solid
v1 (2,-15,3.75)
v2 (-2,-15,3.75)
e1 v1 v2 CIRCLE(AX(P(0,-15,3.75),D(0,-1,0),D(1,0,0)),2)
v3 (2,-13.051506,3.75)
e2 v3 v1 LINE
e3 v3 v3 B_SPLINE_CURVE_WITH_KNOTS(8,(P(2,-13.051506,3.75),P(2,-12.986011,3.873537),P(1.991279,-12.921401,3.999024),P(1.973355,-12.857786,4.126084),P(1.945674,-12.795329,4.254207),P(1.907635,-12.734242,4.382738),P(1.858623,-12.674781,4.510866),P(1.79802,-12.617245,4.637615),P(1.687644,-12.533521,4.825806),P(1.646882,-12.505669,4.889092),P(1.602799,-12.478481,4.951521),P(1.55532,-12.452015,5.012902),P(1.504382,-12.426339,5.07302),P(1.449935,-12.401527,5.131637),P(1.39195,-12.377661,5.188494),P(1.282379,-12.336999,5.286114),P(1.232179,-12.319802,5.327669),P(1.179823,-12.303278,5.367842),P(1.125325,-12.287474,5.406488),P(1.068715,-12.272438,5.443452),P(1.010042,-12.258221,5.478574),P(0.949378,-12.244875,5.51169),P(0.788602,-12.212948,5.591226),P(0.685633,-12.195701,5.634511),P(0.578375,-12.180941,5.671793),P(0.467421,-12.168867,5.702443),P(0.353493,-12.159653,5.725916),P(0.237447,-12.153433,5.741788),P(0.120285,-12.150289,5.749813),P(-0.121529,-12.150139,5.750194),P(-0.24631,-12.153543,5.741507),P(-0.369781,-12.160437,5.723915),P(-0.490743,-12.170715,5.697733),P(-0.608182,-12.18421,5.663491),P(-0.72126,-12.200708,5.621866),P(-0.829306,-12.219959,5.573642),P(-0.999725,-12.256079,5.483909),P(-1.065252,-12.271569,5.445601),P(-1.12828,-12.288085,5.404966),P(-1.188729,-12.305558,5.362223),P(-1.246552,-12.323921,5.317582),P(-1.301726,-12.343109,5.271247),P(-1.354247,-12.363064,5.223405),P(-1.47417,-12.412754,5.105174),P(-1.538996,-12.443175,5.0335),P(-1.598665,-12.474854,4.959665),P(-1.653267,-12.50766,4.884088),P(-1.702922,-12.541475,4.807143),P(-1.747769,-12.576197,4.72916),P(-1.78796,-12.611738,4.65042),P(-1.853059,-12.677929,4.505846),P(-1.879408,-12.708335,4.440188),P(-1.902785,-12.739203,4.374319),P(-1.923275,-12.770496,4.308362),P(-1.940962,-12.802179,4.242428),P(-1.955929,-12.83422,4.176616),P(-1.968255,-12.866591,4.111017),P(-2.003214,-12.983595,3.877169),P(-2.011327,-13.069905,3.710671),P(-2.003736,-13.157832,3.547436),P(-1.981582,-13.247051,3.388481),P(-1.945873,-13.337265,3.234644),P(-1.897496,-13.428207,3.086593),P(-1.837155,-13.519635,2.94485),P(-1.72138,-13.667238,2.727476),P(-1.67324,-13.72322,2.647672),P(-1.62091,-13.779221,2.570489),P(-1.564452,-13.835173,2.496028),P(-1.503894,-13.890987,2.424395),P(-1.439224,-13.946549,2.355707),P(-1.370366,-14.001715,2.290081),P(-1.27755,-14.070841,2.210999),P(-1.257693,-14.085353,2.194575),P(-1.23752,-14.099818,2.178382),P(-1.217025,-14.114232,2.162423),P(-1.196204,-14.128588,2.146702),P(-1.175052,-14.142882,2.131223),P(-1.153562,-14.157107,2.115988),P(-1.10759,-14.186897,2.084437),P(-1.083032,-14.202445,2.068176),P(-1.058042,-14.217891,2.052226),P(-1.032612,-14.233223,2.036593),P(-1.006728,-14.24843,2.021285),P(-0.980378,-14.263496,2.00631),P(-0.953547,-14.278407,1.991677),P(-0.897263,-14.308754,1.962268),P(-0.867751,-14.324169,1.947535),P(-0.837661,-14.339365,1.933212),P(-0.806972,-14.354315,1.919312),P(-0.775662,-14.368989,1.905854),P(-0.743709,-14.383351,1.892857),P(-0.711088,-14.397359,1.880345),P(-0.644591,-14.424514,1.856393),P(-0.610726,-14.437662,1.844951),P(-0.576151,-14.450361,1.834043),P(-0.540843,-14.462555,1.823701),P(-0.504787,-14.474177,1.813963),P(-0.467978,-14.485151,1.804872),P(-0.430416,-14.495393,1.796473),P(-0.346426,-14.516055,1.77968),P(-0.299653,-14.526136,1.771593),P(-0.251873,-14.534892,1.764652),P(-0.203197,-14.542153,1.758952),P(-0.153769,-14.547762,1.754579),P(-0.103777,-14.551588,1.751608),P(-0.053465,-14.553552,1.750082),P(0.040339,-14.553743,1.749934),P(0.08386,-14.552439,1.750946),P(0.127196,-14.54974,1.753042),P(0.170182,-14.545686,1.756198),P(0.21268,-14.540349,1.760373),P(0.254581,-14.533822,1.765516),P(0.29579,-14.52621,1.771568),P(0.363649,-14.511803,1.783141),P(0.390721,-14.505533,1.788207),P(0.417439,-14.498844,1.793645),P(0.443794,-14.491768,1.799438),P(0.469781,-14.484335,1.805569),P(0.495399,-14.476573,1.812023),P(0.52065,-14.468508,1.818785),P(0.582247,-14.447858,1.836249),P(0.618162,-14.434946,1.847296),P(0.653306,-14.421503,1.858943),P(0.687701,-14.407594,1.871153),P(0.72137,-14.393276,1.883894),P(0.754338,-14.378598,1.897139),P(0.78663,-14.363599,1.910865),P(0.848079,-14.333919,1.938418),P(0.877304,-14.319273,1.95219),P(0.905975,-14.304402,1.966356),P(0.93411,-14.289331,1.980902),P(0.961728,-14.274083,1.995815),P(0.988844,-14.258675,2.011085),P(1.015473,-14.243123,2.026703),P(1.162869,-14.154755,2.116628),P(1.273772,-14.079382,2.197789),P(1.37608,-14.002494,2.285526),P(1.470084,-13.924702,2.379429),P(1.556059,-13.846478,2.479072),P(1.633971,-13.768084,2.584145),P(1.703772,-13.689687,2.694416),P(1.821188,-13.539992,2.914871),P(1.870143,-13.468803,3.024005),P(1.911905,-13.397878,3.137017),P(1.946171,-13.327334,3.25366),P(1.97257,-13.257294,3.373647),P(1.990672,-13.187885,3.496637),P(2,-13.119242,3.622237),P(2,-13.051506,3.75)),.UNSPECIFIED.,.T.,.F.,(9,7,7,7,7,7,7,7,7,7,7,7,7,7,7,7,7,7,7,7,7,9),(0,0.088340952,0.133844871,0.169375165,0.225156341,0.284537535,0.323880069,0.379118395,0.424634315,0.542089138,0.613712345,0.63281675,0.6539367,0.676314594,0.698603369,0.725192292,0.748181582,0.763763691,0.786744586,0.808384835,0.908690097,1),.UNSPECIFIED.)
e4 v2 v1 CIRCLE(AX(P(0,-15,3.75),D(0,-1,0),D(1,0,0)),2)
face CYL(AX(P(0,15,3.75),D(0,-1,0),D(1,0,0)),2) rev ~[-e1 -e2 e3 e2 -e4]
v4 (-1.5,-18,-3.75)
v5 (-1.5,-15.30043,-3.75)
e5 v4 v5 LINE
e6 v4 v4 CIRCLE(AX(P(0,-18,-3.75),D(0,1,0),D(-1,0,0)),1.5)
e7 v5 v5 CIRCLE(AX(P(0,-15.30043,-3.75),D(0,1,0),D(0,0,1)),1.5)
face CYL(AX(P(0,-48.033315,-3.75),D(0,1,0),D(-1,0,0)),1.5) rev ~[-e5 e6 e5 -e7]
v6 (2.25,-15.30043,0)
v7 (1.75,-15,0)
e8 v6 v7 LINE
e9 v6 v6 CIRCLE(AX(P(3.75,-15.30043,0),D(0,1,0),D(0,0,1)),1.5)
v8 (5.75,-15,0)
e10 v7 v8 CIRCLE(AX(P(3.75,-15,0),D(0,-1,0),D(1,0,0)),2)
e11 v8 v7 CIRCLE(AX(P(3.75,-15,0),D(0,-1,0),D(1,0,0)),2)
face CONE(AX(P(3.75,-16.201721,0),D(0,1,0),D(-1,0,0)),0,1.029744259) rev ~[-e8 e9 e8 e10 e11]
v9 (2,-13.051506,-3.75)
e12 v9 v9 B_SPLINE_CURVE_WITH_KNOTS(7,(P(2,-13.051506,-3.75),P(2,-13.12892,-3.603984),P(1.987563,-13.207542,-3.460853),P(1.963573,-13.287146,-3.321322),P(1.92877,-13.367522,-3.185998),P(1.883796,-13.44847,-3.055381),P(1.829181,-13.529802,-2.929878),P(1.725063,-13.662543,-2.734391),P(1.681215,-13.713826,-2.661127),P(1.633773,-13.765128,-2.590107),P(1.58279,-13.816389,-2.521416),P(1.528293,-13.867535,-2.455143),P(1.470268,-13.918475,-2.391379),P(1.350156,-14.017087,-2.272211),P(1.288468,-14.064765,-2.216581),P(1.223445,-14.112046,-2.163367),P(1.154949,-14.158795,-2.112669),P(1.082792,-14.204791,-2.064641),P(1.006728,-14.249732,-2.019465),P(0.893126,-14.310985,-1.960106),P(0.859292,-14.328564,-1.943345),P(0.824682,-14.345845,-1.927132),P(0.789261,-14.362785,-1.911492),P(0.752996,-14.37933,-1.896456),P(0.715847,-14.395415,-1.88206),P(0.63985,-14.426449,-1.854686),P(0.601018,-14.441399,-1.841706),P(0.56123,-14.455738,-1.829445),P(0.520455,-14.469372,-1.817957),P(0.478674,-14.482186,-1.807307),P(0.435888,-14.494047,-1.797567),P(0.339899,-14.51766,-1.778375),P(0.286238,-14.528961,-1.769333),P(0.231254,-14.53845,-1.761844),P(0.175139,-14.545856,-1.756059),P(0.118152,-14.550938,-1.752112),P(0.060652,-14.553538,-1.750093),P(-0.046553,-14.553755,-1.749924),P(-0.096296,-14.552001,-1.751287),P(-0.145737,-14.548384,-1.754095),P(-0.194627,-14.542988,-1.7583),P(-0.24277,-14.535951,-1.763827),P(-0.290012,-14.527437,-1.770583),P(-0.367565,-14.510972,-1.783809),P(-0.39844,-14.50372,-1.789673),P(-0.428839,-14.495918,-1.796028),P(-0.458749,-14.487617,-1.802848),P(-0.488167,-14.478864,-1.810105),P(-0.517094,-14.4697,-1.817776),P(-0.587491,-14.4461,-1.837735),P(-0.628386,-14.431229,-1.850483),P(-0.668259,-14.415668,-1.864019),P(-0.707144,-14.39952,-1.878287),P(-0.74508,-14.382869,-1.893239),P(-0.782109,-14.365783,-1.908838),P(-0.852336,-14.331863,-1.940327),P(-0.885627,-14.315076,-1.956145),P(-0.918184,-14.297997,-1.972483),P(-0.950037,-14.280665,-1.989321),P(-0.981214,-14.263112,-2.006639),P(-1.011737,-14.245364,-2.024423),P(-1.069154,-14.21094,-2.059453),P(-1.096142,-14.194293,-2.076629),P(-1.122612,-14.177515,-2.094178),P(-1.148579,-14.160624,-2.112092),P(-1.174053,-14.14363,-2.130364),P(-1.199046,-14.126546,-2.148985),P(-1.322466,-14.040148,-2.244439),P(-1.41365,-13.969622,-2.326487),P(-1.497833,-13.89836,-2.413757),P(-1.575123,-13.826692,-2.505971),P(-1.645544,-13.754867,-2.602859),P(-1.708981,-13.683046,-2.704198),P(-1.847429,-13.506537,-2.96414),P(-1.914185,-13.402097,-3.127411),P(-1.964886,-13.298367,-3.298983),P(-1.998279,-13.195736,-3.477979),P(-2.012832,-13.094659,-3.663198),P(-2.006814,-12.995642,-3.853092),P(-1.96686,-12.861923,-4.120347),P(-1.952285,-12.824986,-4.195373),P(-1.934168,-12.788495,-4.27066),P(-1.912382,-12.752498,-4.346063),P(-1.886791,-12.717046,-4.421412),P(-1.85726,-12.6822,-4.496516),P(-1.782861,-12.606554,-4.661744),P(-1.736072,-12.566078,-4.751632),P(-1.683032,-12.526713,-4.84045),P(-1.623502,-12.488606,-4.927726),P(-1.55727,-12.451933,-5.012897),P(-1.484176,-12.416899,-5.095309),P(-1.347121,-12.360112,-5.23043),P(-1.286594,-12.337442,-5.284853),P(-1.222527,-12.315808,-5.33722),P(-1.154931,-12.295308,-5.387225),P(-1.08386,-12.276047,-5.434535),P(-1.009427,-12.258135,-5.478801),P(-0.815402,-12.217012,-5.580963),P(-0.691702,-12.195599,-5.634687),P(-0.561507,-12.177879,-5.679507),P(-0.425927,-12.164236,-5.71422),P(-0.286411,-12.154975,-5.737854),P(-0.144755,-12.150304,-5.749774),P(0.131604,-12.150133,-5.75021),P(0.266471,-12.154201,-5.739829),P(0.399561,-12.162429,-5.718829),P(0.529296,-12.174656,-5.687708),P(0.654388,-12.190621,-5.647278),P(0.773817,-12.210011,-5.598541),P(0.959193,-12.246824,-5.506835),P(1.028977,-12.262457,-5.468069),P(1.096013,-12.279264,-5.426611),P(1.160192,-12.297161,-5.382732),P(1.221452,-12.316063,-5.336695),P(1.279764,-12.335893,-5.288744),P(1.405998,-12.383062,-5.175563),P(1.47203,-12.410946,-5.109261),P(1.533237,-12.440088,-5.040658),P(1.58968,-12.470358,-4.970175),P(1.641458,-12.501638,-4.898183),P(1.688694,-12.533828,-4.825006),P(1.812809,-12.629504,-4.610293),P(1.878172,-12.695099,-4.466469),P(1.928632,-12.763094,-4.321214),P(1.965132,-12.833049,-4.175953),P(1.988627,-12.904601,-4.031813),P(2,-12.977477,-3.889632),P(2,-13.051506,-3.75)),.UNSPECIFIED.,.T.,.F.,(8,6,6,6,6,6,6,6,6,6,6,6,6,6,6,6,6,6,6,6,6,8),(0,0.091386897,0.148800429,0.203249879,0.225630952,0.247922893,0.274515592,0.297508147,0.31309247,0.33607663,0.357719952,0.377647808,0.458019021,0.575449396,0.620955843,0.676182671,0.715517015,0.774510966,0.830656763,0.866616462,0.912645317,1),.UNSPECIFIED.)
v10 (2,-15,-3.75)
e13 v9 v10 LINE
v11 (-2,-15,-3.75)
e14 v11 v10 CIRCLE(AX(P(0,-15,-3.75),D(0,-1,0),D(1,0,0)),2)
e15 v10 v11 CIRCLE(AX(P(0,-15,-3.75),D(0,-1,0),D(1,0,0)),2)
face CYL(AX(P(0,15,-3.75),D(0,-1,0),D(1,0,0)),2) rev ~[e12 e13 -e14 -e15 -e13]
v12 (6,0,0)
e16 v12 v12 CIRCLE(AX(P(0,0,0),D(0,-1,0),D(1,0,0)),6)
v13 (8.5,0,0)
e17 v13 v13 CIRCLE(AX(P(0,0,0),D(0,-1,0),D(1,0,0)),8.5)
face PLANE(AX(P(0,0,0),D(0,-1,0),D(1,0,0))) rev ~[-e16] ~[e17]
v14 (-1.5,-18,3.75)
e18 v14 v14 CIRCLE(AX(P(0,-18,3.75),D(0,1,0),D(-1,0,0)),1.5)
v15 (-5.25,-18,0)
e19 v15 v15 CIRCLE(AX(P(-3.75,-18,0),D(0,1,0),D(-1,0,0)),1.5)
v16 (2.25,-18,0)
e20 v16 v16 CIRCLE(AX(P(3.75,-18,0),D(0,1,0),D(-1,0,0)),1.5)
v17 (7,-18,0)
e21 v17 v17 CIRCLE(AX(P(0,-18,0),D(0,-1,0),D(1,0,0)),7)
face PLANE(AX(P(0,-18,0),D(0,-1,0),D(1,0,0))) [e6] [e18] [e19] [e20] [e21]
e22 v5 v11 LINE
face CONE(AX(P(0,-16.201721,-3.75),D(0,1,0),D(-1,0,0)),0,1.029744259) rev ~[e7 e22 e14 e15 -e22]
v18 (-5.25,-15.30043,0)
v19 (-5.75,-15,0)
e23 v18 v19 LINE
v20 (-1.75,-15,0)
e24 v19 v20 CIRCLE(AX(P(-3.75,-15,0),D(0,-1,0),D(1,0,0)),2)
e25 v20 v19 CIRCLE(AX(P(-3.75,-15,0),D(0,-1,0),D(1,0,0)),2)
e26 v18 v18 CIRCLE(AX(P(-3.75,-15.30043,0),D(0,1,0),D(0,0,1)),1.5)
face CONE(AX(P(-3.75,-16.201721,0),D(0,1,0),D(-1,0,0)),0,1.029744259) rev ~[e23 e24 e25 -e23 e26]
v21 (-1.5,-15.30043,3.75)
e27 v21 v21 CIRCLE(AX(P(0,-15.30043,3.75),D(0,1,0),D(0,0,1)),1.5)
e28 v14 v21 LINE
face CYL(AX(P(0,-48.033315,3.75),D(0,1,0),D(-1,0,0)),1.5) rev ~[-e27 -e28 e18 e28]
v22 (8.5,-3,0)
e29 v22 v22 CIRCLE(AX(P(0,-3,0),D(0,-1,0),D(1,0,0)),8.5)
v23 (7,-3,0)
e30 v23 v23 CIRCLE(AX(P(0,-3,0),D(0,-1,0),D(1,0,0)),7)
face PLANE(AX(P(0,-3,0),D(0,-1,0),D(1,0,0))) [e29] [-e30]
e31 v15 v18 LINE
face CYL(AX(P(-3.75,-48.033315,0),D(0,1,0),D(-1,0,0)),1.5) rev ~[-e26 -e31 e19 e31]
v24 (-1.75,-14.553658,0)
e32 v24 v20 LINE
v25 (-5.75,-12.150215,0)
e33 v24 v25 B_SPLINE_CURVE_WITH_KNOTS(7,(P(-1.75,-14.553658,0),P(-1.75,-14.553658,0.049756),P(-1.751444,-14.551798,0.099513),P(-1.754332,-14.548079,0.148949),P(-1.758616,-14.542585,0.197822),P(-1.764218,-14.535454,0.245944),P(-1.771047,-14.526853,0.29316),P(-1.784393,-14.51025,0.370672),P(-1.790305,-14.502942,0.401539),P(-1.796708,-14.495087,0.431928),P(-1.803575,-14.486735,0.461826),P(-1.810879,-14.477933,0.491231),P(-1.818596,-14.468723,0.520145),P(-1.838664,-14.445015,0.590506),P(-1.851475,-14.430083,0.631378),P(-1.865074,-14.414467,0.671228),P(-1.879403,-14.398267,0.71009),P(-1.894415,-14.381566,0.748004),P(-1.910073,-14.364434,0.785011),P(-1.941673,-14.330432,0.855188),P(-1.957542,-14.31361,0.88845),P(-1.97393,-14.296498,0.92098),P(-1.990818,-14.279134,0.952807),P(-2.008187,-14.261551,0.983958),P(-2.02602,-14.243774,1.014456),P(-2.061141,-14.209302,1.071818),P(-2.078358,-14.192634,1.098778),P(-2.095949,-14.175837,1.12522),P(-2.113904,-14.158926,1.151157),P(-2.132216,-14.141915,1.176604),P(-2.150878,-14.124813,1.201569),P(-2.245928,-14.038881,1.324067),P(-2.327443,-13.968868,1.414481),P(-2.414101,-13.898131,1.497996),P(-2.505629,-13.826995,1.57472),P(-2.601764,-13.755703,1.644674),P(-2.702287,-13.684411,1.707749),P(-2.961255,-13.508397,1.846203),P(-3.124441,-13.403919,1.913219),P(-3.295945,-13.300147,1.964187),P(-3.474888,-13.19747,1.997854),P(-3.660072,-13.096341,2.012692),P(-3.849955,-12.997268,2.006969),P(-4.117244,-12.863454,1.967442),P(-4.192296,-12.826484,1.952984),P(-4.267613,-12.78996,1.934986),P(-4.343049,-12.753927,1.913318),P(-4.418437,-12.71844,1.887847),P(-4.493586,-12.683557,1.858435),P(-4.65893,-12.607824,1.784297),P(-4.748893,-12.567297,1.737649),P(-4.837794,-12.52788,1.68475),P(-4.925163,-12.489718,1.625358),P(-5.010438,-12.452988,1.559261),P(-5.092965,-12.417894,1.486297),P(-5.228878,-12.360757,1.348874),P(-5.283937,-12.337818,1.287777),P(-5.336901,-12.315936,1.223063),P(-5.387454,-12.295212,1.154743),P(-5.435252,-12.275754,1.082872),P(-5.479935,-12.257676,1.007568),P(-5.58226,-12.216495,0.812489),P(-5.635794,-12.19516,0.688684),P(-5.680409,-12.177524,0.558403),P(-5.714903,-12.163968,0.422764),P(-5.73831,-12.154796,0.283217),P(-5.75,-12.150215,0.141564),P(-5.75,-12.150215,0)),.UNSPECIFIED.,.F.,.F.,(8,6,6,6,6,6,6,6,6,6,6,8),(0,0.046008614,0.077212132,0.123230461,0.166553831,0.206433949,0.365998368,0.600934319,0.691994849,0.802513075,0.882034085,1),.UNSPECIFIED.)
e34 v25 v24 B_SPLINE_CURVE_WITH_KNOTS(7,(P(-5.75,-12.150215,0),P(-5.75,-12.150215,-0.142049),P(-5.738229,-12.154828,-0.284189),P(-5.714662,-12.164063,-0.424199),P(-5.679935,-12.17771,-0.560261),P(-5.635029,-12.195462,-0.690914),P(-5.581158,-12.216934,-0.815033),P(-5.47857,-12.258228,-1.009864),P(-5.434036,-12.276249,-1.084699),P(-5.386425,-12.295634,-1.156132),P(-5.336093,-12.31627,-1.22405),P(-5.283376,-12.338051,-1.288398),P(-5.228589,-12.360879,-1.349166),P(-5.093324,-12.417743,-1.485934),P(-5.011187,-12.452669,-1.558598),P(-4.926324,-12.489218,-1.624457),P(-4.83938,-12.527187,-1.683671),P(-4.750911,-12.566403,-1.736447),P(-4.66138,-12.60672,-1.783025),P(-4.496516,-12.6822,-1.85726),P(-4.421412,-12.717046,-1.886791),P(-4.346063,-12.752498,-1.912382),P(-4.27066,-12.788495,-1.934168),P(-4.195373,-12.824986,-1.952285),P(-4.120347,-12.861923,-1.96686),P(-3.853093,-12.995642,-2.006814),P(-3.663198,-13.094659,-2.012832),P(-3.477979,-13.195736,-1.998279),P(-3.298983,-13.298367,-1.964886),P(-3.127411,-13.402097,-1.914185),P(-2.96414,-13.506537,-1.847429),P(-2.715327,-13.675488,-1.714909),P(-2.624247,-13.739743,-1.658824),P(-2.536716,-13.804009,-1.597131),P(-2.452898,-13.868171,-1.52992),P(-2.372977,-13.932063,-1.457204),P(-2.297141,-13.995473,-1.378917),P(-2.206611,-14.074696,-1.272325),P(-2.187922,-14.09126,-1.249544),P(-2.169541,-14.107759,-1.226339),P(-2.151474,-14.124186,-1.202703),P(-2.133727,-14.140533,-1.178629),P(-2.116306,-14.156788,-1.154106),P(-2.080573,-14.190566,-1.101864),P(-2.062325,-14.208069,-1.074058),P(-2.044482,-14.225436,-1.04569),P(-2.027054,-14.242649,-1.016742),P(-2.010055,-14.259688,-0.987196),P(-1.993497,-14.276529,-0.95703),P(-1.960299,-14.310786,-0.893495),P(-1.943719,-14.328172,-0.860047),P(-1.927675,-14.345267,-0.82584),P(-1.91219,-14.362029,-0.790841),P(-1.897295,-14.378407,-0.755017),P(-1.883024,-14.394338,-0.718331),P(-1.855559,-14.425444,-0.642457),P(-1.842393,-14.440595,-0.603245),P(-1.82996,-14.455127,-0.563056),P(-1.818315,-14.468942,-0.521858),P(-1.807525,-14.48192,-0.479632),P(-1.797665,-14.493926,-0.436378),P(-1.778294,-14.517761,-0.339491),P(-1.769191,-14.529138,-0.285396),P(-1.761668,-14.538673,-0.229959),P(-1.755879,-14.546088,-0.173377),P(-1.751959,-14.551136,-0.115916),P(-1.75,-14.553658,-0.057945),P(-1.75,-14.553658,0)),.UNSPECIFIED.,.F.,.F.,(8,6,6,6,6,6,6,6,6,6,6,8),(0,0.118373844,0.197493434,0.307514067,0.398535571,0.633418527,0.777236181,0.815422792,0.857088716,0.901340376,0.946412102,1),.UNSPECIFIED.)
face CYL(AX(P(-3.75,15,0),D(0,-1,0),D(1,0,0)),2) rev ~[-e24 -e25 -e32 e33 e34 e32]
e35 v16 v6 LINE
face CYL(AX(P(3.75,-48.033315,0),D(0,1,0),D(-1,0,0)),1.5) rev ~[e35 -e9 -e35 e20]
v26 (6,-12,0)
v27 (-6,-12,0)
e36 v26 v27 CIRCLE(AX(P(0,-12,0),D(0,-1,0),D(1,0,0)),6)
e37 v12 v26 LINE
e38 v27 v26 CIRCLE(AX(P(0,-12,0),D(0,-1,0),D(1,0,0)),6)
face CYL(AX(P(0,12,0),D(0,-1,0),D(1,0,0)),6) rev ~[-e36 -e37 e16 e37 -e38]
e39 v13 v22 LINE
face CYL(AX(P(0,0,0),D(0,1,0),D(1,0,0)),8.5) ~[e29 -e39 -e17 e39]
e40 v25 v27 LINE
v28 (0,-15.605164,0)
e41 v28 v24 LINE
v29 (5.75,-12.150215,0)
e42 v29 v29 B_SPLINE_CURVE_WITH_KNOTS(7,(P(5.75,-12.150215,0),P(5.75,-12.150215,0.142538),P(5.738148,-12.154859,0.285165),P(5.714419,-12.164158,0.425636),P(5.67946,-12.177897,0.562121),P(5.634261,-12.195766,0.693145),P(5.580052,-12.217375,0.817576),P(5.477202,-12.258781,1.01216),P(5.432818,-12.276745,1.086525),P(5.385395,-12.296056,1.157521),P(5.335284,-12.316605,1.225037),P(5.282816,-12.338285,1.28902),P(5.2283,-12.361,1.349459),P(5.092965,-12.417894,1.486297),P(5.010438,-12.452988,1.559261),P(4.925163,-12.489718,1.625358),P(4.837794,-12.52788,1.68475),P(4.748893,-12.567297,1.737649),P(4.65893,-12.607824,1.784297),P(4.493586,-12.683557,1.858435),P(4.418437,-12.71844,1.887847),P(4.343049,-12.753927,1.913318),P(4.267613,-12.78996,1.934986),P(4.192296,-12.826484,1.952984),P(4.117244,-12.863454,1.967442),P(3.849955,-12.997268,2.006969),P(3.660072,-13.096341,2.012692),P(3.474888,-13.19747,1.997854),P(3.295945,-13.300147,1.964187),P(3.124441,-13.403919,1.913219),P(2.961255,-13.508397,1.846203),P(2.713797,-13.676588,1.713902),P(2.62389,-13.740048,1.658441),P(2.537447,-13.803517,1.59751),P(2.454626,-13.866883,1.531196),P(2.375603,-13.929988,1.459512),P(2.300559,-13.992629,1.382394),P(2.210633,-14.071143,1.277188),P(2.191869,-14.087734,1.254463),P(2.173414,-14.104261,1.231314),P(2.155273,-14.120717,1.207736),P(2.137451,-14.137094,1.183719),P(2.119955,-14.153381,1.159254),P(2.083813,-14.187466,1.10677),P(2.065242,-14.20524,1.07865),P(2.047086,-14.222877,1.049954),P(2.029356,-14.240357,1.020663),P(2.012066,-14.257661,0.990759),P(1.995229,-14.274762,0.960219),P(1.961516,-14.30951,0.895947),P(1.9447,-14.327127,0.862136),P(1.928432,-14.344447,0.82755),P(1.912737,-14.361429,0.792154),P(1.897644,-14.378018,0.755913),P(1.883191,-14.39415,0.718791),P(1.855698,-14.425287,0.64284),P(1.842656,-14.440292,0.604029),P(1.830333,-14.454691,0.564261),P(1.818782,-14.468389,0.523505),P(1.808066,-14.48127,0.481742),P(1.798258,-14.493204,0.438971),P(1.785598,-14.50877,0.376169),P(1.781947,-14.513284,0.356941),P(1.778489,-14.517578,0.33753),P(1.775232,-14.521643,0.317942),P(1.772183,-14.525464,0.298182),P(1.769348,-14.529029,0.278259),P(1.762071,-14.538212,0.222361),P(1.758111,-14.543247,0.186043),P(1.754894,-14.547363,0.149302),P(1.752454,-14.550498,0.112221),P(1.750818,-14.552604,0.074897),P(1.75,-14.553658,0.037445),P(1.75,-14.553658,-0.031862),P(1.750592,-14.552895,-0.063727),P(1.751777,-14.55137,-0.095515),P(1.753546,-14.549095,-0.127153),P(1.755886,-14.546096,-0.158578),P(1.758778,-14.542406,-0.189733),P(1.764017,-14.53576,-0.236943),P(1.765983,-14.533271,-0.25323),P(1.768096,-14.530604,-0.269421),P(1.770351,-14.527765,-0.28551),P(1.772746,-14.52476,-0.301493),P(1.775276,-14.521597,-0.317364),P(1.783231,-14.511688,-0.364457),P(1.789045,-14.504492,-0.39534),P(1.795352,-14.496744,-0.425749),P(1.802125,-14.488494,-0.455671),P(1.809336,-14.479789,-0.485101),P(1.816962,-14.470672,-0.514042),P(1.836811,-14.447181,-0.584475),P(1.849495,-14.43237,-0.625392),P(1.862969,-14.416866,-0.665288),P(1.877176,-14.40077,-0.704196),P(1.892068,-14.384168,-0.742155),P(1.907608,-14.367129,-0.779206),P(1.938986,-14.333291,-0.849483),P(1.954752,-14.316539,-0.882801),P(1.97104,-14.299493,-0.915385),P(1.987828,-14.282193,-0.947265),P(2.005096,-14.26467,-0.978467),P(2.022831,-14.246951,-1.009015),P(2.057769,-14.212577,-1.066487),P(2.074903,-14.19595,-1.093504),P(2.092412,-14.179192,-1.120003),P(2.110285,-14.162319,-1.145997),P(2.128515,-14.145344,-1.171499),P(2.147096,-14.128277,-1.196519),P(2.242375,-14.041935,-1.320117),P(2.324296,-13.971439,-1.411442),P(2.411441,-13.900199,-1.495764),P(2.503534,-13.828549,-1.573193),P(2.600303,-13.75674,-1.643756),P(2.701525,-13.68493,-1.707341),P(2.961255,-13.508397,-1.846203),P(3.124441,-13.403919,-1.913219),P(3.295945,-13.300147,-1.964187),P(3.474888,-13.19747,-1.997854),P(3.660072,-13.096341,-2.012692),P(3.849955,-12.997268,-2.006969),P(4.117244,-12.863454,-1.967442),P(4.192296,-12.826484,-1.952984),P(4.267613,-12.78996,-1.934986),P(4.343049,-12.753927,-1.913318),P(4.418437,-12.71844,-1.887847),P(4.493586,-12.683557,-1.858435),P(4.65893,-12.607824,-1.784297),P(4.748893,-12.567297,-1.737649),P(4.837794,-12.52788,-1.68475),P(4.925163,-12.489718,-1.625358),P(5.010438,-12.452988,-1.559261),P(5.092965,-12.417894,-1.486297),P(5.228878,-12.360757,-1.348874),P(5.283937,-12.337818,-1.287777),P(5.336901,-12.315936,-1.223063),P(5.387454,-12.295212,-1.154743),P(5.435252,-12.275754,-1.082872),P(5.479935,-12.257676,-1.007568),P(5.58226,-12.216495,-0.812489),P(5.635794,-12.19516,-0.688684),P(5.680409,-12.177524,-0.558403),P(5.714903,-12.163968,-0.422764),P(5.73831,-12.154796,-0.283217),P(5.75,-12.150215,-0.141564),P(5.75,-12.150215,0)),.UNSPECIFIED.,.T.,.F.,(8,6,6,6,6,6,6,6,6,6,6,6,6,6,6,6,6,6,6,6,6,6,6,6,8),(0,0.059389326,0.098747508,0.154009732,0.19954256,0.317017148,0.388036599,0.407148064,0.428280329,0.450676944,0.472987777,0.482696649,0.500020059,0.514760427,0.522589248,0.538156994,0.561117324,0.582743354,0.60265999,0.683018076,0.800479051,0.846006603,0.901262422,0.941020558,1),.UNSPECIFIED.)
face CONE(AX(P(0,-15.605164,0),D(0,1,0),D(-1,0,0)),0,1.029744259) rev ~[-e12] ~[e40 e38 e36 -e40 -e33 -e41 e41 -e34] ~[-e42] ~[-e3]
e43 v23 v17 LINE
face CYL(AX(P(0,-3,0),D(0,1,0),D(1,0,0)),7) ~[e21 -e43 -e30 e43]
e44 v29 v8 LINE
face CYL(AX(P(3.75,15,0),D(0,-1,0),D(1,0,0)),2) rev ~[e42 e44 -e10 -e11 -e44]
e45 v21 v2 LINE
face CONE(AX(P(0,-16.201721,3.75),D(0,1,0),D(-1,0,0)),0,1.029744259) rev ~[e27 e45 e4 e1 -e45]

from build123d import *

# Parameters (mm, degrees)
F0_R     = 8.5
F1_DEPTH = 3
F2_R     = 7
F3_DEPTH = 15
F5_D     = 3
F7_D     = 12
F7_DEPTH = 12
F7_TIP   = 3.6051637142
F9_D     = 4
F9_DEPTH = 15
F9_TIP   = 1.2017212381


with BuildPart() as f1:
    # F0 (on Front) → F1 (new body)
    with BuildSketch(Plane.XZ):
        Circle(F0_R)
    extrude(amount=F1_DEPTH)

    # F2 (on face) → F3 (join)
    with BuildSketch(Plane.XZ.offset(3)):
        Circle(F2_R)
    extrude(amount=F3_DEPTH)

    # F5 (through all)
    with Locations(Plane.XZ.offset(18)):
        with Locations((0, 3.75), (3.75, 0), (0, -3.75), (-3.75, 0)):
            Hole(F5_D / 2)

    # F7
    with Locations(Plane(origin=(0, 0, 0), x_dir=(-1, 0, 0), z_dir=(0, 1, 0))):
        with Locations((0, 0)):
            Hole(F7_D / 2, depth=F7_DEPTH)
            with Locations((0, 0, -(F7_DEPTH + F7_TIP / 2))):  # 118° drill point
                Cone(0, F7_D / 2, F7_TIP, mode=Mode.SUBTRACT)

    # F9
    with Locations(Plane(origin=(0, 0, 0), x_dir=(-1, 0, 0), z_dir=(0, 1, 0))):
        with Locations((0, 3.75), (-3.75, 0), (3.75, 0), (0, -3.75)):
            Hole(F9_D / 2, depth=F9_DEPTH)
            with Locations((0, 0, -(F9_DEPTH + F9_TIP / 2))):  # 118° drill point
                Cone(0, F9_D / 2, F9_TIP, mode=Mode.SUBTRACT)


solid = f1.part
